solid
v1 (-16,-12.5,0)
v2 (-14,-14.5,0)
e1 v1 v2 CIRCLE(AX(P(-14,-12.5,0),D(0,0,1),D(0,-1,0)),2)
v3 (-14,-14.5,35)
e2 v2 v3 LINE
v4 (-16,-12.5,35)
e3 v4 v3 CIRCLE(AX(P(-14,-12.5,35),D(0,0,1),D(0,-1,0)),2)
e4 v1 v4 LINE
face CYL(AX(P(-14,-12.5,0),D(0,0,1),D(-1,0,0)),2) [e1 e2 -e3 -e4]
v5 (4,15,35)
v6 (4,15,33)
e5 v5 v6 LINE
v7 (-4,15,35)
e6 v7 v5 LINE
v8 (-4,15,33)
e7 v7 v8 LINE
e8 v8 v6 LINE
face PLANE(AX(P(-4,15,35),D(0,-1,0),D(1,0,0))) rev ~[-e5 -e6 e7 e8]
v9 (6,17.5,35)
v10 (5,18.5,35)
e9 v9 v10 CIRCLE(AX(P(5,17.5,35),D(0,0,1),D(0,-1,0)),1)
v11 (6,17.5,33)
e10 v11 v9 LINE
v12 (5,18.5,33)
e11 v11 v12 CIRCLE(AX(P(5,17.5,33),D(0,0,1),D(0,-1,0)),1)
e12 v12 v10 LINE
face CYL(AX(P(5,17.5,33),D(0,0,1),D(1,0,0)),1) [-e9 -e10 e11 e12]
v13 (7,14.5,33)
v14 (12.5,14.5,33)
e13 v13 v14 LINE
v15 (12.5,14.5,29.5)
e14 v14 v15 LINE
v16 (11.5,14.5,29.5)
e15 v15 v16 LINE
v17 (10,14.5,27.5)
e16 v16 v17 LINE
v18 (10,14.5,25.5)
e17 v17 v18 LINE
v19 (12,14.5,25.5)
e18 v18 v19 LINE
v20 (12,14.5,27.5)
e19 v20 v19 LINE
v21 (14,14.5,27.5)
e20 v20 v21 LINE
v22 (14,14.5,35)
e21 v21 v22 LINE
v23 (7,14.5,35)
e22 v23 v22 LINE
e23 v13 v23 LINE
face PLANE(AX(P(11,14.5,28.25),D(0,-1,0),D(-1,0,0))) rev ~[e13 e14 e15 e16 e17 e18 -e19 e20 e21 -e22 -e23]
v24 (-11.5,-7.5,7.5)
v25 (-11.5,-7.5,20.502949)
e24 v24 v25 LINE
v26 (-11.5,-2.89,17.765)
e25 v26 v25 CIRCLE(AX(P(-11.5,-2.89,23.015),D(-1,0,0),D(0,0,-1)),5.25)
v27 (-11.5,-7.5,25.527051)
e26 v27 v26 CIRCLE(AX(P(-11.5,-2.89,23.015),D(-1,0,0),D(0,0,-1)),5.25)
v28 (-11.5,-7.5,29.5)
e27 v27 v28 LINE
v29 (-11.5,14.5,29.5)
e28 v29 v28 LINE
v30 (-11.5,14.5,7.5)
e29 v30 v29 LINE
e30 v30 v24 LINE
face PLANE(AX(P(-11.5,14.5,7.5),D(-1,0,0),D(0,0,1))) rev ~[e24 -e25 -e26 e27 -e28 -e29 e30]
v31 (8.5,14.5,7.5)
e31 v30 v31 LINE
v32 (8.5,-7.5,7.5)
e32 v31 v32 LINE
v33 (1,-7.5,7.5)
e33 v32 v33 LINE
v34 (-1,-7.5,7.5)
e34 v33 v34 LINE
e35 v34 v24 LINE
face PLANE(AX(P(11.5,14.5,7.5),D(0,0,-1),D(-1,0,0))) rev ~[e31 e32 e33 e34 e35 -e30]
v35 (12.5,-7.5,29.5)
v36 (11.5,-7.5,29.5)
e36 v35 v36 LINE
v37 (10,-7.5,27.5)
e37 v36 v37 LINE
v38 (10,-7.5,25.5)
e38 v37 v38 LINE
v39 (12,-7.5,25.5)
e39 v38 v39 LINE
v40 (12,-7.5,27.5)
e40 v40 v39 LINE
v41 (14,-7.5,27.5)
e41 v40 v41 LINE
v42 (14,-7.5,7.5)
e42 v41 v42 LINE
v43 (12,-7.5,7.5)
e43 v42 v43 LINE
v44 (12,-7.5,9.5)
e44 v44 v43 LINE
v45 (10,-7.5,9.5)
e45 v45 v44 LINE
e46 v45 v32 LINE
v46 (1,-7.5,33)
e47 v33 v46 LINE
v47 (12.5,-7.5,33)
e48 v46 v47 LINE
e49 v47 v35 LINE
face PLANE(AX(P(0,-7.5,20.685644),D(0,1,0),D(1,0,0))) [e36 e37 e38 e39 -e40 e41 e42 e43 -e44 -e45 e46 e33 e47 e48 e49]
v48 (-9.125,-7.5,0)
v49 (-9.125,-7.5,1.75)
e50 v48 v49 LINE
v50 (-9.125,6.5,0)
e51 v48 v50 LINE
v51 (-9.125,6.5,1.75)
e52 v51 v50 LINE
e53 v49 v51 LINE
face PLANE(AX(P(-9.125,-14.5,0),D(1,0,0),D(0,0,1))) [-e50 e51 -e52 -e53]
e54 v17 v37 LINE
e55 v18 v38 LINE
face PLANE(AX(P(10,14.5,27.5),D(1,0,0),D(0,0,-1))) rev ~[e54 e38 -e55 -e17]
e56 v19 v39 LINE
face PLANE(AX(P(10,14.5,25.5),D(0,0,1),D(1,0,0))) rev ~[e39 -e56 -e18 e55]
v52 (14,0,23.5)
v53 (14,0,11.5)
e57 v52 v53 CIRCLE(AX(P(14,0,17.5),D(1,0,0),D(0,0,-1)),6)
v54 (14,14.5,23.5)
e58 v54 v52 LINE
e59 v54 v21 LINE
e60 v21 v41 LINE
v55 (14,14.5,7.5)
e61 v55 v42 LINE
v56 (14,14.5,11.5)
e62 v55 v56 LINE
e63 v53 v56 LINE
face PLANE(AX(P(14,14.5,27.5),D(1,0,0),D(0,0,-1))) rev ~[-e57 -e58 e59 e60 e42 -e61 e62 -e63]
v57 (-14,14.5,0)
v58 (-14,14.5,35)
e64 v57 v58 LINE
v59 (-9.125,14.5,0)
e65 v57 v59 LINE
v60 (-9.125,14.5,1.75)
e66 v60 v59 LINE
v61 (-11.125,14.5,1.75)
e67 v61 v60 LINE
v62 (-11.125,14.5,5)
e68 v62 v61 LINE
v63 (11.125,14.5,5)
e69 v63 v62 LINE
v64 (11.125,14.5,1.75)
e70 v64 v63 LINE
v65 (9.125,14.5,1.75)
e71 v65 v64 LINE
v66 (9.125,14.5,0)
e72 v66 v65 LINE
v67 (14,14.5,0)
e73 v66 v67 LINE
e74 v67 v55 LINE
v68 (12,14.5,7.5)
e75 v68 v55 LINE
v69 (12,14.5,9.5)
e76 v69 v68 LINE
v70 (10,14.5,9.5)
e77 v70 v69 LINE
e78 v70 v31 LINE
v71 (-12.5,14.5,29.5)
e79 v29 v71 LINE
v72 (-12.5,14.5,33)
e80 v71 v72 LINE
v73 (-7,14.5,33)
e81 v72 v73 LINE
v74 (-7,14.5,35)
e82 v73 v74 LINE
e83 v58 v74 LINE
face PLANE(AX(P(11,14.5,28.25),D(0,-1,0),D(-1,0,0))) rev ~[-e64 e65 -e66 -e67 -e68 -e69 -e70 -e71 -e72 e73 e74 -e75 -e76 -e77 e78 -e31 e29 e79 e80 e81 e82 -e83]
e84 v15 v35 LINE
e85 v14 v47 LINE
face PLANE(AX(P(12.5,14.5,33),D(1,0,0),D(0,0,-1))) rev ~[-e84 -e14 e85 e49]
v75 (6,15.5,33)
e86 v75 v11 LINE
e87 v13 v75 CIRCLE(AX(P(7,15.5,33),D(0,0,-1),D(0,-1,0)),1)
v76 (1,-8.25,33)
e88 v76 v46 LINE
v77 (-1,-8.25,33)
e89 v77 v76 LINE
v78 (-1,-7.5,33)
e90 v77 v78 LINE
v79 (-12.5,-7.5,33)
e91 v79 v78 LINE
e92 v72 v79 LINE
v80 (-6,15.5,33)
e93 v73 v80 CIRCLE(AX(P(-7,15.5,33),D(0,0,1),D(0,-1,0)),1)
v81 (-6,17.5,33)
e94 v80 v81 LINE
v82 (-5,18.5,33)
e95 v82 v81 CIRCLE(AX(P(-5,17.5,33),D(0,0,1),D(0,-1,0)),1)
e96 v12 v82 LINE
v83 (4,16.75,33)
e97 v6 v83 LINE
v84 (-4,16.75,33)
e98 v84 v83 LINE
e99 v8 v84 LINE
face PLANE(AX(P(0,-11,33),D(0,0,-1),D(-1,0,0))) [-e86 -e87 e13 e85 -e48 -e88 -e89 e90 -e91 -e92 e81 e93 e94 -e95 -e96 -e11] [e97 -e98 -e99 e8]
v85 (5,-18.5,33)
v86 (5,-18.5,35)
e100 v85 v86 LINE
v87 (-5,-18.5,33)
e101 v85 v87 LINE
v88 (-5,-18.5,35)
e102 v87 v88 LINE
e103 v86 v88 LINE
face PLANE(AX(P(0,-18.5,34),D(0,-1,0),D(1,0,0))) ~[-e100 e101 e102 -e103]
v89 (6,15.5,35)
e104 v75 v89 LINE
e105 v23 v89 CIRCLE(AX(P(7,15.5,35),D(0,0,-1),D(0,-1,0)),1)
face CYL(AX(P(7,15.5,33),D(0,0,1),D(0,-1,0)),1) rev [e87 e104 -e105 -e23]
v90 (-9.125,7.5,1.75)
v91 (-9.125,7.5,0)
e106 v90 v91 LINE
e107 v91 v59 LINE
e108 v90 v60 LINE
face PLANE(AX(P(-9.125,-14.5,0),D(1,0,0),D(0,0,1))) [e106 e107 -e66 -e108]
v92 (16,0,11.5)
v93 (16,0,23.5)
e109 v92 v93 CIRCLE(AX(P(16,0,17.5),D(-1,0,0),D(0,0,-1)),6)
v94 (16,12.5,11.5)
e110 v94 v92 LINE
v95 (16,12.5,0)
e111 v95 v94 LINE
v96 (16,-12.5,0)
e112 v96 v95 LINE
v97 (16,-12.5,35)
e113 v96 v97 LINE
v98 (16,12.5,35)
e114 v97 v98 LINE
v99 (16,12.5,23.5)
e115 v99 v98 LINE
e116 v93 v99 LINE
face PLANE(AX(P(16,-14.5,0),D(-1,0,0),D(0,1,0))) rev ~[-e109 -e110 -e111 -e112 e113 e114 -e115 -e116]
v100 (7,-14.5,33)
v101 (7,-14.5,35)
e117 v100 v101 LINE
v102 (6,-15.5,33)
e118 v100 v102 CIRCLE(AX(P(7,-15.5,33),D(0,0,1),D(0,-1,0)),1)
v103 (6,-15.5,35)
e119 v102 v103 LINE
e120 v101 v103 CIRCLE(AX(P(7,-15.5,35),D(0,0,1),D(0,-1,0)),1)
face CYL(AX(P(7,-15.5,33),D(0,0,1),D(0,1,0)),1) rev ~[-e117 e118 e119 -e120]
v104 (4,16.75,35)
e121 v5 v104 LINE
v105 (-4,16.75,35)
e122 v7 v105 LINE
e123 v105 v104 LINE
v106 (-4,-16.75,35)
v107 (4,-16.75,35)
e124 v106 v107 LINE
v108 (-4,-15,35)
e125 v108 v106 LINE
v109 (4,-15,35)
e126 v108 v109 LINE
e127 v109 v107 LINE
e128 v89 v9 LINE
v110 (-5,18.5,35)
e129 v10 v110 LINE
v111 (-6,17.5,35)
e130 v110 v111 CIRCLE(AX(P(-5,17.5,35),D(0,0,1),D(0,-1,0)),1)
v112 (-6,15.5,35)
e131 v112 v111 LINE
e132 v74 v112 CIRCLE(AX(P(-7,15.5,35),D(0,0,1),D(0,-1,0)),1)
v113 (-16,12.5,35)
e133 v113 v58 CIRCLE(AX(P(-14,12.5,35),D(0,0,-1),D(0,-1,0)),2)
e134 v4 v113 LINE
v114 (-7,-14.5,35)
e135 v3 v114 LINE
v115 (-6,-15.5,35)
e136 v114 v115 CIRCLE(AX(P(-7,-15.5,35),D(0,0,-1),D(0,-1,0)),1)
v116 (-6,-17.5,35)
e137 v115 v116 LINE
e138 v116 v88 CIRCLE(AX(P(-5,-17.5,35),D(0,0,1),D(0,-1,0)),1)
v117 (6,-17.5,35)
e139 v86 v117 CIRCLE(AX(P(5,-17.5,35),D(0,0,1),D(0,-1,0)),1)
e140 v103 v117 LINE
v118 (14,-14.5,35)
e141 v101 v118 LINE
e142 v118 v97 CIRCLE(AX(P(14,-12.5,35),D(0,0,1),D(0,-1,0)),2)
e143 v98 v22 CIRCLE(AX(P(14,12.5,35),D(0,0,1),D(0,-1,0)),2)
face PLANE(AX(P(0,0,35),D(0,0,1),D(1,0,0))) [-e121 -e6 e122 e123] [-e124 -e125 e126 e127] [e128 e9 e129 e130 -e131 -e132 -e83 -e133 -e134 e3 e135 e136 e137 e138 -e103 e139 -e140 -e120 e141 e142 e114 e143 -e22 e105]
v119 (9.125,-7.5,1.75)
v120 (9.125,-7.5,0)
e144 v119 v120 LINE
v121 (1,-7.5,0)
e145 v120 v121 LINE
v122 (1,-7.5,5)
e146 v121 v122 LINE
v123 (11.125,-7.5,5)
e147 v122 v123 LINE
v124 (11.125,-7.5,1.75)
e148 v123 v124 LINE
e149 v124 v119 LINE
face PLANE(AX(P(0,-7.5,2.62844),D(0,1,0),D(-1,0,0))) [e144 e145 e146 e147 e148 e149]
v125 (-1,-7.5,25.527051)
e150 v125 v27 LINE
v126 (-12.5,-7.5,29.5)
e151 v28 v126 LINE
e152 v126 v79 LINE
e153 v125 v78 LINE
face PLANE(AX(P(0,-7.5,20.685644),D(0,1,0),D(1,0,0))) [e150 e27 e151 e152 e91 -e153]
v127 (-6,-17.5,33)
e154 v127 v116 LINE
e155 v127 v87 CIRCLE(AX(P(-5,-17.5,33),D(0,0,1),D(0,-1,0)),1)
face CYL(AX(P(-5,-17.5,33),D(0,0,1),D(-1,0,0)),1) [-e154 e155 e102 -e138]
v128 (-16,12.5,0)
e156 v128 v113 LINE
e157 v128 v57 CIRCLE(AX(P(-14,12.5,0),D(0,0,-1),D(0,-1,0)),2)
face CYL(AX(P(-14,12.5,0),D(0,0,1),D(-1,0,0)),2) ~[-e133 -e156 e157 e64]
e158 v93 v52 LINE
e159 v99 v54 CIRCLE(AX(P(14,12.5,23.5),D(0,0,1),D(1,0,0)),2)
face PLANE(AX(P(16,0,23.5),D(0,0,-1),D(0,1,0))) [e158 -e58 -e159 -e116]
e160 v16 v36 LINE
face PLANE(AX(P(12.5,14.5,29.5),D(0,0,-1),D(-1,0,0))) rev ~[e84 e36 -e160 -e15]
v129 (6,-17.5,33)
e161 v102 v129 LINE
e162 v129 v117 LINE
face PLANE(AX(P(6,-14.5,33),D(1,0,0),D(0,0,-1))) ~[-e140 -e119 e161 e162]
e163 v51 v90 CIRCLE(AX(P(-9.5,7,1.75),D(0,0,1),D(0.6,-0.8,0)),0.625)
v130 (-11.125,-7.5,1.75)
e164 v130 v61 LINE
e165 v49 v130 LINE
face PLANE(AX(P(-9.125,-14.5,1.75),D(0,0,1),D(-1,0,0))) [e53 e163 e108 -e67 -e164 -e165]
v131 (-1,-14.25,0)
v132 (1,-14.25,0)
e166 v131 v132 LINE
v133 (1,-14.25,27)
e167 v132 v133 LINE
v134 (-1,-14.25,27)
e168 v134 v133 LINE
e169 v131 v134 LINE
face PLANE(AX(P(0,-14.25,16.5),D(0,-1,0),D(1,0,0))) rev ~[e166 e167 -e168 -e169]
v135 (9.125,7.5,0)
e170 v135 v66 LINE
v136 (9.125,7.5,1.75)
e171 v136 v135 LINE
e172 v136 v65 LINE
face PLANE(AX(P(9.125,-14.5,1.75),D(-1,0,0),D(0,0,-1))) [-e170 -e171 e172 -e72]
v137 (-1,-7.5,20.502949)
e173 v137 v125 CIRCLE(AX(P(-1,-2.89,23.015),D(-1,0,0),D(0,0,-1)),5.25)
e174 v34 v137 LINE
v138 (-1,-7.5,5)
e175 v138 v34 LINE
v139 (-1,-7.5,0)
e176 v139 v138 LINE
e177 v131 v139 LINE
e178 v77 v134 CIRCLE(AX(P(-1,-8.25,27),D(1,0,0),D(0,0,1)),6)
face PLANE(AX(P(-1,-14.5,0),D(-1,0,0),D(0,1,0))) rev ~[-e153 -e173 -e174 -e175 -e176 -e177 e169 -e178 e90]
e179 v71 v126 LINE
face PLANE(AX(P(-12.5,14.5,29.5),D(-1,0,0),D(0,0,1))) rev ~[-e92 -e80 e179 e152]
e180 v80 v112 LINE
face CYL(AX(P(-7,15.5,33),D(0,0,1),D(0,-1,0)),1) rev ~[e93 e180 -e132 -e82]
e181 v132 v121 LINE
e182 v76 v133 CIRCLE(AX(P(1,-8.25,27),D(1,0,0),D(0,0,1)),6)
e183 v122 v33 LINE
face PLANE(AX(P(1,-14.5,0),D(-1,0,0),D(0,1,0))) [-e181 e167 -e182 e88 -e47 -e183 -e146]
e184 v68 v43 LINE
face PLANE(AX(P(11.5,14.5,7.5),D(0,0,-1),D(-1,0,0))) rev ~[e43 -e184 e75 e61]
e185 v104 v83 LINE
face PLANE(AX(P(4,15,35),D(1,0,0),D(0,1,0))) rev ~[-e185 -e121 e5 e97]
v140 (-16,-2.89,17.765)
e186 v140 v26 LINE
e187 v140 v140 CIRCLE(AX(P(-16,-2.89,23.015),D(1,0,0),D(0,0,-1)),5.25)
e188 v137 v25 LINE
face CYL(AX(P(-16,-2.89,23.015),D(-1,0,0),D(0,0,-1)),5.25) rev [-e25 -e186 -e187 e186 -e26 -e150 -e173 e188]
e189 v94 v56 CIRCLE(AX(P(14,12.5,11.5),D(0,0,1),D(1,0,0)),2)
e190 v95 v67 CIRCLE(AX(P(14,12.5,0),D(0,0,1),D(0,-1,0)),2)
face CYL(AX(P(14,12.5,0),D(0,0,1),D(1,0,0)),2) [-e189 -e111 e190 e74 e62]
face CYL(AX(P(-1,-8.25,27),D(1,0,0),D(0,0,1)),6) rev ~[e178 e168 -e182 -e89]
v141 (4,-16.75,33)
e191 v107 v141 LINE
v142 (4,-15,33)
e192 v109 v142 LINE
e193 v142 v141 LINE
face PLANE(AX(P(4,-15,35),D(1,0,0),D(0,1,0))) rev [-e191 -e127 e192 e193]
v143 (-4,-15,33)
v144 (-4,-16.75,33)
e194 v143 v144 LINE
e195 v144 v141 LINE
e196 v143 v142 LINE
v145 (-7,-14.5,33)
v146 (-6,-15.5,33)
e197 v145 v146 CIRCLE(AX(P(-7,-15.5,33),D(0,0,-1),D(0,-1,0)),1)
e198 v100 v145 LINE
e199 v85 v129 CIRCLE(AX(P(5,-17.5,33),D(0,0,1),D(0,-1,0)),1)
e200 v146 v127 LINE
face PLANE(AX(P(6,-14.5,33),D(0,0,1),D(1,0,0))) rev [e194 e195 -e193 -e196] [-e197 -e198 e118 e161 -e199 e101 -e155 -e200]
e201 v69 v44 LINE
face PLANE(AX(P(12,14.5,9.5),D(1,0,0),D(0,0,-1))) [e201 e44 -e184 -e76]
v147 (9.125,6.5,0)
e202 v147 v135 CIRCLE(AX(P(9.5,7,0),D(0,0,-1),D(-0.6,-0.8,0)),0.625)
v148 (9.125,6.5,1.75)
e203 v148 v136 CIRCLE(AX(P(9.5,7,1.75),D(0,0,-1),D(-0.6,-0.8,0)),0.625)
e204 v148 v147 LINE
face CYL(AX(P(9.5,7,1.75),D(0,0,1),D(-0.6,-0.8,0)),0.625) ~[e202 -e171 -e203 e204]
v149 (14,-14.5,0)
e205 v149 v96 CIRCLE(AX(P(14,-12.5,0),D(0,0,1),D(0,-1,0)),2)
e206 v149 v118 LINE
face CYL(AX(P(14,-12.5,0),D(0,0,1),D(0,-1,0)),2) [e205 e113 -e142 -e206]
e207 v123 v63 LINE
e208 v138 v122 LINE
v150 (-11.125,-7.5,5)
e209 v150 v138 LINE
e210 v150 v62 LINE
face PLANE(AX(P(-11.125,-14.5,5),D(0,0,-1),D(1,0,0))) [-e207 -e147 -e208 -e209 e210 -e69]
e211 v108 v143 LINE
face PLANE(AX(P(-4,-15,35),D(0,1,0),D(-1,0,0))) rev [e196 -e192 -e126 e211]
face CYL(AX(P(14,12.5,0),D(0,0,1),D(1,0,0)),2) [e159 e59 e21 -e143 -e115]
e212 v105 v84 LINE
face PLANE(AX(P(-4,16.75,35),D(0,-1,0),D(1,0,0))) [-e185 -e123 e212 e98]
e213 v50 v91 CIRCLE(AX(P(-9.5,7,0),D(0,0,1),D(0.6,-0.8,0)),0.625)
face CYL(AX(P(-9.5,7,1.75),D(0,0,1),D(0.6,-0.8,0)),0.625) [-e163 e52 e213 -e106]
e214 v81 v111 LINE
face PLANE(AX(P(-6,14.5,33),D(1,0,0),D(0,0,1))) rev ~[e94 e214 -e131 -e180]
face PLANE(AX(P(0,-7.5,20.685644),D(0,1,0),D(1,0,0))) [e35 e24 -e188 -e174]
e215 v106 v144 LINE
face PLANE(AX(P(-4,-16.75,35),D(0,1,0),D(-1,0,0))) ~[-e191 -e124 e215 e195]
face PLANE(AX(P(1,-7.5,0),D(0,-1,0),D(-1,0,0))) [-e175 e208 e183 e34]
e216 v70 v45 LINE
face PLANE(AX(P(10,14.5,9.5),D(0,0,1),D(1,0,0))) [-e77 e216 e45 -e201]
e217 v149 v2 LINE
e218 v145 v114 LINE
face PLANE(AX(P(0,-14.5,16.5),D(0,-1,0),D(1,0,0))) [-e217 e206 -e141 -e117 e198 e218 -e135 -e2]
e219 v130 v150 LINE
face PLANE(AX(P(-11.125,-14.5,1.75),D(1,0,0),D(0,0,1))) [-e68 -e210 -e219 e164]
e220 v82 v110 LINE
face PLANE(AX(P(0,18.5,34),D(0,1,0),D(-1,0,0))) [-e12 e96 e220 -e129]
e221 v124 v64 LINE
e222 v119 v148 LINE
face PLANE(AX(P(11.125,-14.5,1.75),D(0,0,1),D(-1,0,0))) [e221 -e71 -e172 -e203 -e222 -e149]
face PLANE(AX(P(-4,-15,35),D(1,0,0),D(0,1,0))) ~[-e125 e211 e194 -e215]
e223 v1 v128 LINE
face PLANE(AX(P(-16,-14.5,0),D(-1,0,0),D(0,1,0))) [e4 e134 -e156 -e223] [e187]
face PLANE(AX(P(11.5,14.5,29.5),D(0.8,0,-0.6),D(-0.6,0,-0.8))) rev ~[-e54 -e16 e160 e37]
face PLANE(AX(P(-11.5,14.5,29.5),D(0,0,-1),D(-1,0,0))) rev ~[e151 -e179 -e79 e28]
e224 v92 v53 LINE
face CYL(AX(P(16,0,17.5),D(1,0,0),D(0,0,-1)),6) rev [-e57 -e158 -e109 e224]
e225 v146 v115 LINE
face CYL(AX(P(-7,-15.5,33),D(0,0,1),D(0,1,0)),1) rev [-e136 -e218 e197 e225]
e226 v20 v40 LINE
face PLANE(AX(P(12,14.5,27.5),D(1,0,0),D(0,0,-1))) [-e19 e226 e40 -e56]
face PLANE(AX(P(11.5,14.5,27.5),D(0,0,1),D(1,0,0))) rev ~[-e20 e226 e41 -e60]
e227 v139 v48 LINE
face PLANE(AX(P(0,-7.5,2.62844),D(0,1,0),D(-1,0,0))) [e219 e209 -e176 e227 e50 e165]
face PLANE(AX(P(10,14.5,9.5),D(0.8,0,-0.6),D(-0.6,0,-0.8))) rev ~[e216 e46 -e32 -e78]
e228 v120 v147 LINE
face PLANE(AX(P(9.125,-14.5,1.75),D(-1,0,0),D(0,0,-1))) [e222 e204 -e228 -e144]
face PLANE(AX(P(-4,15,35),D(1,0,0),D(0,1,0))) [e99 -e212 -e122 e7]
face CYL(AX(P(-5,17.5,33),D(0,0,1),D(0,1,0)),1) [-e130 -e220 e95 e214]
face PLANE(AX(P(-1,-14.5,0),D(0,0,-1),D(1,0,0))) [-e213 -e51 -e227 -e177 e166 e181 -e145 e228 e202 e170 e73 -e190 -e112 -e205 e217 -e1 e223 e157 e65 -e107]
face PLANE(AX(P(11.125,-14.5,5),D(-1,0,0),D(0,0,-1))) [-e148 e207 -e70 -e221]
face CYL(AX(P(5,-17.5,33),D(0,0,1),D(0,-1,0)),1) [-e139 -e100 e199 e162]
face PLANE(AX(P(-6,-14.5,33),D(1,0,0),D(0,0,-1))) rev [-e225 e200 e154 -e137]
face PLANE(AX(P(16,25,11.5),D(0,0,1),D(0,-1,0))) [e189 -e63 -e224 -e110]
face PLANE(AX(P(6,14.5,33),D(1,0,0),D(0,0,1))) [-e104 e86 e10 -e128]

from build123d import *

# Parameters (mm, degrees)
SKETCH1_W                         = 32
SKETCH1_H                         = 29
BOSS_EXTRUDE1_DEPTH               = 35
FILLET1_R                         = 2
SLOT_FOR_COIL_DEPTH               = 1
SLOT_FOR_COIL_DEPTH_BACK          = 30
BOSS_EXTRUDE2_DEPTH               = 7
BOSS_EXTRUDE3_DEPTH               = 1.75
SKETCH5_W                         = 2
SKETCH5_H                         = 7
SLOT_TO_FEED_IN_WIRE_DEPTH        = 33
SLOT_FO_PCB_DEPTH                 = 22
SKETCH7_W                         = 2
SKETCH7_H                         = 33
BOSS_EXTRUDE4_DEPTH               = 0.25
FILLET2_R                         = 6
ROD_MOUNT_SLOT_REACH              = 34
SKETCH14_W                        = 2.5
SKETCH14_H                        = 20
SIDE_CAVITY_FOR_MOUNT_PLATE_DEPTH = 22
SKETCH16_W                        = 2
SKETCH16_H                        = 2
SIDE_STOPS_FOR_MOUNT_PLATE_DEPTH  = 22
BOSS_EXTRUDE6_DEPTH               = 22
SKETCH21_W                        = 12
SKETCH21_H                        = 2
BOSS_EXTRUDE7_DEPTH               = 4
SKETCH23_W                        = 8
SKETCH23_H                        = 1.75
CUT_EXTRUDE7_DEPTH                = 2
FILLET3_R                         = 1
CUT_EXTRUDE8_REACH                = 34
SKETCH26_R                        = 5.25


with BuildPart() as part:
    # Sketch1 → Boss-Extrude1 (new body)
    with BuildSketch(Plane.XY):
        Rectangle(SKETCH1_W, SKETCH1_H)
    extrude(amount=BOSS_EXTRUDE1_DEPTH)

    # Fillet1
    fillet1_edges = [part.edges().sort_by_distance(p)[0] for p in [
        (16, -14.5, 17.5),
        (-16, -14.5, 17.5),
        (-16, 14.5, 17.5),
        (16, 14.5, 17.5),
    ]]
    fillet(fillet1_edges, radius=FILLET1_R)

    # Sketch2 → Slot for Coil (cut, two sides)
    with BuildSketch(Plane.XZ.offset(14.5)) as slot_for_coil_sk:
        Polygon((-9.125, 0), (-9.125, 1.75), (-11.125, 1.75), (-11.125, 5), (11.125, 5), (11.125, 1.75), (9.125, 1.75), (9.125, 0), align=None)
    extrude(amount=SLOT_FOR_COIL_DEPTH, mode=Mode.SUBTRACT)
    extrude(slot_for_coil_sk.sketch, amount=-SLOT_FOR_COIL_DEPTH_BACK, mode=Mode.SUBTRACT)

    # Sketch3 → Boss-Extrude2 (add)
    with BuildSketch(Plane.XZ.offset(14.5)):
        Polygon((-9.125, 0), (-9.125, 1.75), (-11.125, 1.75), (-11.125, 5), (11.125, 5), (11.125, 1.75), (9.125, 1.75), (9.125, 0), align=None)
    extrude(amount=-BOSS_EXTRUDE2_DEPTH)

    # Sketch4 → Boss-Extrude3 (add)
    with BuildSketch(Plane(origin=(0, 0, 1.75), x_dir=(-1, 0, 0), z_dir=(0, 0, -1))):
        with BuildLine():
            Line((-9.125, 7.5), (-9.125, 6.5))
            ThreePointArc((-9.125, 6.5), (-8.875, 7), (-9.125, 7.5))
        make_face()
    boss_extrude3 = extrude(amount=BOSS_EXTRUDE3_DEPTH)

    # Mirror1: Boss-Extrude3 across plane
    add(boss_extrude3.mirror(Plane(origin=(0, 0, 0), x_dir=(0, 0, 1), z_dir=(1, 0, 0))))

    # Sketch5 → slot to feed in wire (cut)
    with BuildSketch(Plane(origin=(0, 0, 0), x_dir=(-1, 0, 0), z_dir=(0, 0, -1))):
        with Locations((0, -11)):
            Rectangle(SKETCH5_W, SKETCH5_H)
    extrude(amount=-SLOT_TO_FEED_IN_WIRE_DEPTH, mode=Mode.SUBTRACT)

    # Sketch6 → slot fo PCB (cut)
    with BuildSketch(Plane(origin=(0, 14.5, 0), x_dir=(1, 0, 0), z_dir=(0, 1, 0))):
        Polygon((11.5, -7.5), (-11.5, -7.5), (-11.5, -29.5), (-12.5, -29.5), (-12.5, -33), (12.5, -33), (12.5, -29.5), (11.5, -29.5), align=None)
    extrude(amount=-SLOT_FO_PCB_DEPTH, mode=Mode.SUBTRACT)

    # Sketch7 → Boss-Extrude4 (add)
    with BuildSketch(Plane.XZ.offset(14.5)):
        with Locations((0, 16.5)):
            Rectangle(SKETCH7_W, SKETCH7_H)
    extrude(amount=-BOSS_EXTRUDE4_DEPTH)

    # Fillet2
    fillet2_edges = [part.edges().sort_by_distance(p)[0] for p in [
        (0, -14.25, 33),
    ]]
    fillet(fillet2_edges, radius=FILLET2_R)

    # Sketch11 → Rod Mount Slot (cut, up to next)
    with BuildSketch(Plane(origin=(16, 0, 44), x_dir=(0, 0, -1), z_dir=(1, 0, 0)), mode=Mode.PRIVATE) as rod_mount_slot_sk1:
        with BuildLine():
            Line((32.5, 25), (32.5, 0))
            ThreePointArc((32.5, 0), (26.5, -6), (20.5, 0))
            Line((20.5, 0), (20.5, 25))
            ThreePointArc((20.5, 25), (26.5, 31), (32.5, 25))
        make_face()
    rod_mount_slot_tool1 = extrude(rod_mount_slot_sk1.sketch, amount=-ROD_MOUNT_SLOT_REACH, mode=Mode.PRIVATE) & part.part
    add(rod_mount_slot_tool1.solids().sort_by_distance((16, 12.5, 17.5))[0], mode=Mode.SUBTRACT)

    # Sketch14 → Side cavity for mount plate (cut)
    with BuildSketch(Plane(origin=(0, 14.5, 0), x_dir=(1, 0, 0), z_dir=(0, 1, 0))):
        with Locations((12.75, -17.5)):
            Rectangle(SKETCH14_W, SKETCH14_H)
    extrude(amount=-SIDE_CAVITY_FOR_MOUNT_PLATE_DEPTH, mode=Mode.SUBTRACT)

    # Sketch16 → Side stops for mount plate (add)
    with BuildSketch(Plane(origin=(0, 14.5, 0), x_dir=(1, 0, 0), z_dir=(0, 1, 0))):
        with Locations((11, -8.5)):
            Rectangle(SKETCH16_W, SKETCH16_H)
        with Locations((11, -26.5)):
            Rectangle(SKETCH16_W, SKETCH16_H)
    extrude(amount=-SIDE_STOPS_FOR_MOUNT_PLATE_DEPTH)

    # Sketch20 → Boss-Extrude6 (add)
    with BuildSketch(Plane(origin=(0, 14.5, 0), x_dir=(1, 0, 0), z_dir=(0, 1, 0))):
        Polygon((11.5, -29.5), (10, -27.5), (11.5, -27.5), align=None)
        Polygon((10, -9.5), (8.5, -7.5), (10, -7.5), align=None)
    extrude(amount=-BOSS_EXTRUDE6_DEPTH)

    # Sketch21 → Boss-Extrude7 (add)
    with BuildSketch(Plane(origin=(0, 14.5, 0), x_dir=(-1, 0, 0), z_dir=(0, 1, 0))):
        with Locations((0, 34)):
            Rectangle(SKETCH21_W, SKETCH21_H)
    boss_extrude7 = extrude(amount=BOSS_EXTRUDE7_DEPTH)

    # Sketch23 → Cut-Extrude7 (cut)
    with BuildSketch(Plane.XY.offset(35)):
        with Locations((0, 15.875)):
            Rectangle(SKETCH23_W, SKETCH23_H)
    cut_extrude7 = extrude(amount=-CUT_EXTRUDE7_DEPTH, mode=Mode.SUBTRACT)

    # Mirror3: Boss-Extrude7, Cut-Extrude7 across plane
    add(boss_extrude7.mirror(Plane.ZX))
    add(cut_extrude7.mirror(Plane.ZX), mode=Mode.SUBTRACT)

    # Fillet3
    fillet3_edges = [part.edges().sort_by_distance(p)[0] for p in [
        (6, 14.5, 34),
        (-6, 14.5, 34),
        (6, 18.5, 34),
        (-6, 18.5, 34),
        (6, -18.5, 34),
        (-6, -18.5, 34),
        (6, -14.5, 34),
        (-6, -14.5, 34),
    ]]
    fillet(fillet3_edges, radius=FILLET3_R)

    # Sketch26 → Cut-Extrude8 (cut, up to next)
    with BuildSketch(Plane(origin=(-16, 0, 0), x_dir=(0, 0, -1), z_dir=(1, 0, 0)), mode=Mode.PRIVATE) as cut_extrude8_sk1:
        with Locations((-23.015, -2.89)):
            Circle(SKETCH26_R)
    cut_extrude8_tool1 = extrude(cut_extrude8_sk1.sketch, amount=CUT_EXTRUDE8_REACH, mode=Mode.PRIVATE) & part.part
    add(cut_extrude8_tool1.solids().sort_by_distance((-16, -2.89, 23.015))[0], mode=Mode.SUBTRACT)


solid = part.part
